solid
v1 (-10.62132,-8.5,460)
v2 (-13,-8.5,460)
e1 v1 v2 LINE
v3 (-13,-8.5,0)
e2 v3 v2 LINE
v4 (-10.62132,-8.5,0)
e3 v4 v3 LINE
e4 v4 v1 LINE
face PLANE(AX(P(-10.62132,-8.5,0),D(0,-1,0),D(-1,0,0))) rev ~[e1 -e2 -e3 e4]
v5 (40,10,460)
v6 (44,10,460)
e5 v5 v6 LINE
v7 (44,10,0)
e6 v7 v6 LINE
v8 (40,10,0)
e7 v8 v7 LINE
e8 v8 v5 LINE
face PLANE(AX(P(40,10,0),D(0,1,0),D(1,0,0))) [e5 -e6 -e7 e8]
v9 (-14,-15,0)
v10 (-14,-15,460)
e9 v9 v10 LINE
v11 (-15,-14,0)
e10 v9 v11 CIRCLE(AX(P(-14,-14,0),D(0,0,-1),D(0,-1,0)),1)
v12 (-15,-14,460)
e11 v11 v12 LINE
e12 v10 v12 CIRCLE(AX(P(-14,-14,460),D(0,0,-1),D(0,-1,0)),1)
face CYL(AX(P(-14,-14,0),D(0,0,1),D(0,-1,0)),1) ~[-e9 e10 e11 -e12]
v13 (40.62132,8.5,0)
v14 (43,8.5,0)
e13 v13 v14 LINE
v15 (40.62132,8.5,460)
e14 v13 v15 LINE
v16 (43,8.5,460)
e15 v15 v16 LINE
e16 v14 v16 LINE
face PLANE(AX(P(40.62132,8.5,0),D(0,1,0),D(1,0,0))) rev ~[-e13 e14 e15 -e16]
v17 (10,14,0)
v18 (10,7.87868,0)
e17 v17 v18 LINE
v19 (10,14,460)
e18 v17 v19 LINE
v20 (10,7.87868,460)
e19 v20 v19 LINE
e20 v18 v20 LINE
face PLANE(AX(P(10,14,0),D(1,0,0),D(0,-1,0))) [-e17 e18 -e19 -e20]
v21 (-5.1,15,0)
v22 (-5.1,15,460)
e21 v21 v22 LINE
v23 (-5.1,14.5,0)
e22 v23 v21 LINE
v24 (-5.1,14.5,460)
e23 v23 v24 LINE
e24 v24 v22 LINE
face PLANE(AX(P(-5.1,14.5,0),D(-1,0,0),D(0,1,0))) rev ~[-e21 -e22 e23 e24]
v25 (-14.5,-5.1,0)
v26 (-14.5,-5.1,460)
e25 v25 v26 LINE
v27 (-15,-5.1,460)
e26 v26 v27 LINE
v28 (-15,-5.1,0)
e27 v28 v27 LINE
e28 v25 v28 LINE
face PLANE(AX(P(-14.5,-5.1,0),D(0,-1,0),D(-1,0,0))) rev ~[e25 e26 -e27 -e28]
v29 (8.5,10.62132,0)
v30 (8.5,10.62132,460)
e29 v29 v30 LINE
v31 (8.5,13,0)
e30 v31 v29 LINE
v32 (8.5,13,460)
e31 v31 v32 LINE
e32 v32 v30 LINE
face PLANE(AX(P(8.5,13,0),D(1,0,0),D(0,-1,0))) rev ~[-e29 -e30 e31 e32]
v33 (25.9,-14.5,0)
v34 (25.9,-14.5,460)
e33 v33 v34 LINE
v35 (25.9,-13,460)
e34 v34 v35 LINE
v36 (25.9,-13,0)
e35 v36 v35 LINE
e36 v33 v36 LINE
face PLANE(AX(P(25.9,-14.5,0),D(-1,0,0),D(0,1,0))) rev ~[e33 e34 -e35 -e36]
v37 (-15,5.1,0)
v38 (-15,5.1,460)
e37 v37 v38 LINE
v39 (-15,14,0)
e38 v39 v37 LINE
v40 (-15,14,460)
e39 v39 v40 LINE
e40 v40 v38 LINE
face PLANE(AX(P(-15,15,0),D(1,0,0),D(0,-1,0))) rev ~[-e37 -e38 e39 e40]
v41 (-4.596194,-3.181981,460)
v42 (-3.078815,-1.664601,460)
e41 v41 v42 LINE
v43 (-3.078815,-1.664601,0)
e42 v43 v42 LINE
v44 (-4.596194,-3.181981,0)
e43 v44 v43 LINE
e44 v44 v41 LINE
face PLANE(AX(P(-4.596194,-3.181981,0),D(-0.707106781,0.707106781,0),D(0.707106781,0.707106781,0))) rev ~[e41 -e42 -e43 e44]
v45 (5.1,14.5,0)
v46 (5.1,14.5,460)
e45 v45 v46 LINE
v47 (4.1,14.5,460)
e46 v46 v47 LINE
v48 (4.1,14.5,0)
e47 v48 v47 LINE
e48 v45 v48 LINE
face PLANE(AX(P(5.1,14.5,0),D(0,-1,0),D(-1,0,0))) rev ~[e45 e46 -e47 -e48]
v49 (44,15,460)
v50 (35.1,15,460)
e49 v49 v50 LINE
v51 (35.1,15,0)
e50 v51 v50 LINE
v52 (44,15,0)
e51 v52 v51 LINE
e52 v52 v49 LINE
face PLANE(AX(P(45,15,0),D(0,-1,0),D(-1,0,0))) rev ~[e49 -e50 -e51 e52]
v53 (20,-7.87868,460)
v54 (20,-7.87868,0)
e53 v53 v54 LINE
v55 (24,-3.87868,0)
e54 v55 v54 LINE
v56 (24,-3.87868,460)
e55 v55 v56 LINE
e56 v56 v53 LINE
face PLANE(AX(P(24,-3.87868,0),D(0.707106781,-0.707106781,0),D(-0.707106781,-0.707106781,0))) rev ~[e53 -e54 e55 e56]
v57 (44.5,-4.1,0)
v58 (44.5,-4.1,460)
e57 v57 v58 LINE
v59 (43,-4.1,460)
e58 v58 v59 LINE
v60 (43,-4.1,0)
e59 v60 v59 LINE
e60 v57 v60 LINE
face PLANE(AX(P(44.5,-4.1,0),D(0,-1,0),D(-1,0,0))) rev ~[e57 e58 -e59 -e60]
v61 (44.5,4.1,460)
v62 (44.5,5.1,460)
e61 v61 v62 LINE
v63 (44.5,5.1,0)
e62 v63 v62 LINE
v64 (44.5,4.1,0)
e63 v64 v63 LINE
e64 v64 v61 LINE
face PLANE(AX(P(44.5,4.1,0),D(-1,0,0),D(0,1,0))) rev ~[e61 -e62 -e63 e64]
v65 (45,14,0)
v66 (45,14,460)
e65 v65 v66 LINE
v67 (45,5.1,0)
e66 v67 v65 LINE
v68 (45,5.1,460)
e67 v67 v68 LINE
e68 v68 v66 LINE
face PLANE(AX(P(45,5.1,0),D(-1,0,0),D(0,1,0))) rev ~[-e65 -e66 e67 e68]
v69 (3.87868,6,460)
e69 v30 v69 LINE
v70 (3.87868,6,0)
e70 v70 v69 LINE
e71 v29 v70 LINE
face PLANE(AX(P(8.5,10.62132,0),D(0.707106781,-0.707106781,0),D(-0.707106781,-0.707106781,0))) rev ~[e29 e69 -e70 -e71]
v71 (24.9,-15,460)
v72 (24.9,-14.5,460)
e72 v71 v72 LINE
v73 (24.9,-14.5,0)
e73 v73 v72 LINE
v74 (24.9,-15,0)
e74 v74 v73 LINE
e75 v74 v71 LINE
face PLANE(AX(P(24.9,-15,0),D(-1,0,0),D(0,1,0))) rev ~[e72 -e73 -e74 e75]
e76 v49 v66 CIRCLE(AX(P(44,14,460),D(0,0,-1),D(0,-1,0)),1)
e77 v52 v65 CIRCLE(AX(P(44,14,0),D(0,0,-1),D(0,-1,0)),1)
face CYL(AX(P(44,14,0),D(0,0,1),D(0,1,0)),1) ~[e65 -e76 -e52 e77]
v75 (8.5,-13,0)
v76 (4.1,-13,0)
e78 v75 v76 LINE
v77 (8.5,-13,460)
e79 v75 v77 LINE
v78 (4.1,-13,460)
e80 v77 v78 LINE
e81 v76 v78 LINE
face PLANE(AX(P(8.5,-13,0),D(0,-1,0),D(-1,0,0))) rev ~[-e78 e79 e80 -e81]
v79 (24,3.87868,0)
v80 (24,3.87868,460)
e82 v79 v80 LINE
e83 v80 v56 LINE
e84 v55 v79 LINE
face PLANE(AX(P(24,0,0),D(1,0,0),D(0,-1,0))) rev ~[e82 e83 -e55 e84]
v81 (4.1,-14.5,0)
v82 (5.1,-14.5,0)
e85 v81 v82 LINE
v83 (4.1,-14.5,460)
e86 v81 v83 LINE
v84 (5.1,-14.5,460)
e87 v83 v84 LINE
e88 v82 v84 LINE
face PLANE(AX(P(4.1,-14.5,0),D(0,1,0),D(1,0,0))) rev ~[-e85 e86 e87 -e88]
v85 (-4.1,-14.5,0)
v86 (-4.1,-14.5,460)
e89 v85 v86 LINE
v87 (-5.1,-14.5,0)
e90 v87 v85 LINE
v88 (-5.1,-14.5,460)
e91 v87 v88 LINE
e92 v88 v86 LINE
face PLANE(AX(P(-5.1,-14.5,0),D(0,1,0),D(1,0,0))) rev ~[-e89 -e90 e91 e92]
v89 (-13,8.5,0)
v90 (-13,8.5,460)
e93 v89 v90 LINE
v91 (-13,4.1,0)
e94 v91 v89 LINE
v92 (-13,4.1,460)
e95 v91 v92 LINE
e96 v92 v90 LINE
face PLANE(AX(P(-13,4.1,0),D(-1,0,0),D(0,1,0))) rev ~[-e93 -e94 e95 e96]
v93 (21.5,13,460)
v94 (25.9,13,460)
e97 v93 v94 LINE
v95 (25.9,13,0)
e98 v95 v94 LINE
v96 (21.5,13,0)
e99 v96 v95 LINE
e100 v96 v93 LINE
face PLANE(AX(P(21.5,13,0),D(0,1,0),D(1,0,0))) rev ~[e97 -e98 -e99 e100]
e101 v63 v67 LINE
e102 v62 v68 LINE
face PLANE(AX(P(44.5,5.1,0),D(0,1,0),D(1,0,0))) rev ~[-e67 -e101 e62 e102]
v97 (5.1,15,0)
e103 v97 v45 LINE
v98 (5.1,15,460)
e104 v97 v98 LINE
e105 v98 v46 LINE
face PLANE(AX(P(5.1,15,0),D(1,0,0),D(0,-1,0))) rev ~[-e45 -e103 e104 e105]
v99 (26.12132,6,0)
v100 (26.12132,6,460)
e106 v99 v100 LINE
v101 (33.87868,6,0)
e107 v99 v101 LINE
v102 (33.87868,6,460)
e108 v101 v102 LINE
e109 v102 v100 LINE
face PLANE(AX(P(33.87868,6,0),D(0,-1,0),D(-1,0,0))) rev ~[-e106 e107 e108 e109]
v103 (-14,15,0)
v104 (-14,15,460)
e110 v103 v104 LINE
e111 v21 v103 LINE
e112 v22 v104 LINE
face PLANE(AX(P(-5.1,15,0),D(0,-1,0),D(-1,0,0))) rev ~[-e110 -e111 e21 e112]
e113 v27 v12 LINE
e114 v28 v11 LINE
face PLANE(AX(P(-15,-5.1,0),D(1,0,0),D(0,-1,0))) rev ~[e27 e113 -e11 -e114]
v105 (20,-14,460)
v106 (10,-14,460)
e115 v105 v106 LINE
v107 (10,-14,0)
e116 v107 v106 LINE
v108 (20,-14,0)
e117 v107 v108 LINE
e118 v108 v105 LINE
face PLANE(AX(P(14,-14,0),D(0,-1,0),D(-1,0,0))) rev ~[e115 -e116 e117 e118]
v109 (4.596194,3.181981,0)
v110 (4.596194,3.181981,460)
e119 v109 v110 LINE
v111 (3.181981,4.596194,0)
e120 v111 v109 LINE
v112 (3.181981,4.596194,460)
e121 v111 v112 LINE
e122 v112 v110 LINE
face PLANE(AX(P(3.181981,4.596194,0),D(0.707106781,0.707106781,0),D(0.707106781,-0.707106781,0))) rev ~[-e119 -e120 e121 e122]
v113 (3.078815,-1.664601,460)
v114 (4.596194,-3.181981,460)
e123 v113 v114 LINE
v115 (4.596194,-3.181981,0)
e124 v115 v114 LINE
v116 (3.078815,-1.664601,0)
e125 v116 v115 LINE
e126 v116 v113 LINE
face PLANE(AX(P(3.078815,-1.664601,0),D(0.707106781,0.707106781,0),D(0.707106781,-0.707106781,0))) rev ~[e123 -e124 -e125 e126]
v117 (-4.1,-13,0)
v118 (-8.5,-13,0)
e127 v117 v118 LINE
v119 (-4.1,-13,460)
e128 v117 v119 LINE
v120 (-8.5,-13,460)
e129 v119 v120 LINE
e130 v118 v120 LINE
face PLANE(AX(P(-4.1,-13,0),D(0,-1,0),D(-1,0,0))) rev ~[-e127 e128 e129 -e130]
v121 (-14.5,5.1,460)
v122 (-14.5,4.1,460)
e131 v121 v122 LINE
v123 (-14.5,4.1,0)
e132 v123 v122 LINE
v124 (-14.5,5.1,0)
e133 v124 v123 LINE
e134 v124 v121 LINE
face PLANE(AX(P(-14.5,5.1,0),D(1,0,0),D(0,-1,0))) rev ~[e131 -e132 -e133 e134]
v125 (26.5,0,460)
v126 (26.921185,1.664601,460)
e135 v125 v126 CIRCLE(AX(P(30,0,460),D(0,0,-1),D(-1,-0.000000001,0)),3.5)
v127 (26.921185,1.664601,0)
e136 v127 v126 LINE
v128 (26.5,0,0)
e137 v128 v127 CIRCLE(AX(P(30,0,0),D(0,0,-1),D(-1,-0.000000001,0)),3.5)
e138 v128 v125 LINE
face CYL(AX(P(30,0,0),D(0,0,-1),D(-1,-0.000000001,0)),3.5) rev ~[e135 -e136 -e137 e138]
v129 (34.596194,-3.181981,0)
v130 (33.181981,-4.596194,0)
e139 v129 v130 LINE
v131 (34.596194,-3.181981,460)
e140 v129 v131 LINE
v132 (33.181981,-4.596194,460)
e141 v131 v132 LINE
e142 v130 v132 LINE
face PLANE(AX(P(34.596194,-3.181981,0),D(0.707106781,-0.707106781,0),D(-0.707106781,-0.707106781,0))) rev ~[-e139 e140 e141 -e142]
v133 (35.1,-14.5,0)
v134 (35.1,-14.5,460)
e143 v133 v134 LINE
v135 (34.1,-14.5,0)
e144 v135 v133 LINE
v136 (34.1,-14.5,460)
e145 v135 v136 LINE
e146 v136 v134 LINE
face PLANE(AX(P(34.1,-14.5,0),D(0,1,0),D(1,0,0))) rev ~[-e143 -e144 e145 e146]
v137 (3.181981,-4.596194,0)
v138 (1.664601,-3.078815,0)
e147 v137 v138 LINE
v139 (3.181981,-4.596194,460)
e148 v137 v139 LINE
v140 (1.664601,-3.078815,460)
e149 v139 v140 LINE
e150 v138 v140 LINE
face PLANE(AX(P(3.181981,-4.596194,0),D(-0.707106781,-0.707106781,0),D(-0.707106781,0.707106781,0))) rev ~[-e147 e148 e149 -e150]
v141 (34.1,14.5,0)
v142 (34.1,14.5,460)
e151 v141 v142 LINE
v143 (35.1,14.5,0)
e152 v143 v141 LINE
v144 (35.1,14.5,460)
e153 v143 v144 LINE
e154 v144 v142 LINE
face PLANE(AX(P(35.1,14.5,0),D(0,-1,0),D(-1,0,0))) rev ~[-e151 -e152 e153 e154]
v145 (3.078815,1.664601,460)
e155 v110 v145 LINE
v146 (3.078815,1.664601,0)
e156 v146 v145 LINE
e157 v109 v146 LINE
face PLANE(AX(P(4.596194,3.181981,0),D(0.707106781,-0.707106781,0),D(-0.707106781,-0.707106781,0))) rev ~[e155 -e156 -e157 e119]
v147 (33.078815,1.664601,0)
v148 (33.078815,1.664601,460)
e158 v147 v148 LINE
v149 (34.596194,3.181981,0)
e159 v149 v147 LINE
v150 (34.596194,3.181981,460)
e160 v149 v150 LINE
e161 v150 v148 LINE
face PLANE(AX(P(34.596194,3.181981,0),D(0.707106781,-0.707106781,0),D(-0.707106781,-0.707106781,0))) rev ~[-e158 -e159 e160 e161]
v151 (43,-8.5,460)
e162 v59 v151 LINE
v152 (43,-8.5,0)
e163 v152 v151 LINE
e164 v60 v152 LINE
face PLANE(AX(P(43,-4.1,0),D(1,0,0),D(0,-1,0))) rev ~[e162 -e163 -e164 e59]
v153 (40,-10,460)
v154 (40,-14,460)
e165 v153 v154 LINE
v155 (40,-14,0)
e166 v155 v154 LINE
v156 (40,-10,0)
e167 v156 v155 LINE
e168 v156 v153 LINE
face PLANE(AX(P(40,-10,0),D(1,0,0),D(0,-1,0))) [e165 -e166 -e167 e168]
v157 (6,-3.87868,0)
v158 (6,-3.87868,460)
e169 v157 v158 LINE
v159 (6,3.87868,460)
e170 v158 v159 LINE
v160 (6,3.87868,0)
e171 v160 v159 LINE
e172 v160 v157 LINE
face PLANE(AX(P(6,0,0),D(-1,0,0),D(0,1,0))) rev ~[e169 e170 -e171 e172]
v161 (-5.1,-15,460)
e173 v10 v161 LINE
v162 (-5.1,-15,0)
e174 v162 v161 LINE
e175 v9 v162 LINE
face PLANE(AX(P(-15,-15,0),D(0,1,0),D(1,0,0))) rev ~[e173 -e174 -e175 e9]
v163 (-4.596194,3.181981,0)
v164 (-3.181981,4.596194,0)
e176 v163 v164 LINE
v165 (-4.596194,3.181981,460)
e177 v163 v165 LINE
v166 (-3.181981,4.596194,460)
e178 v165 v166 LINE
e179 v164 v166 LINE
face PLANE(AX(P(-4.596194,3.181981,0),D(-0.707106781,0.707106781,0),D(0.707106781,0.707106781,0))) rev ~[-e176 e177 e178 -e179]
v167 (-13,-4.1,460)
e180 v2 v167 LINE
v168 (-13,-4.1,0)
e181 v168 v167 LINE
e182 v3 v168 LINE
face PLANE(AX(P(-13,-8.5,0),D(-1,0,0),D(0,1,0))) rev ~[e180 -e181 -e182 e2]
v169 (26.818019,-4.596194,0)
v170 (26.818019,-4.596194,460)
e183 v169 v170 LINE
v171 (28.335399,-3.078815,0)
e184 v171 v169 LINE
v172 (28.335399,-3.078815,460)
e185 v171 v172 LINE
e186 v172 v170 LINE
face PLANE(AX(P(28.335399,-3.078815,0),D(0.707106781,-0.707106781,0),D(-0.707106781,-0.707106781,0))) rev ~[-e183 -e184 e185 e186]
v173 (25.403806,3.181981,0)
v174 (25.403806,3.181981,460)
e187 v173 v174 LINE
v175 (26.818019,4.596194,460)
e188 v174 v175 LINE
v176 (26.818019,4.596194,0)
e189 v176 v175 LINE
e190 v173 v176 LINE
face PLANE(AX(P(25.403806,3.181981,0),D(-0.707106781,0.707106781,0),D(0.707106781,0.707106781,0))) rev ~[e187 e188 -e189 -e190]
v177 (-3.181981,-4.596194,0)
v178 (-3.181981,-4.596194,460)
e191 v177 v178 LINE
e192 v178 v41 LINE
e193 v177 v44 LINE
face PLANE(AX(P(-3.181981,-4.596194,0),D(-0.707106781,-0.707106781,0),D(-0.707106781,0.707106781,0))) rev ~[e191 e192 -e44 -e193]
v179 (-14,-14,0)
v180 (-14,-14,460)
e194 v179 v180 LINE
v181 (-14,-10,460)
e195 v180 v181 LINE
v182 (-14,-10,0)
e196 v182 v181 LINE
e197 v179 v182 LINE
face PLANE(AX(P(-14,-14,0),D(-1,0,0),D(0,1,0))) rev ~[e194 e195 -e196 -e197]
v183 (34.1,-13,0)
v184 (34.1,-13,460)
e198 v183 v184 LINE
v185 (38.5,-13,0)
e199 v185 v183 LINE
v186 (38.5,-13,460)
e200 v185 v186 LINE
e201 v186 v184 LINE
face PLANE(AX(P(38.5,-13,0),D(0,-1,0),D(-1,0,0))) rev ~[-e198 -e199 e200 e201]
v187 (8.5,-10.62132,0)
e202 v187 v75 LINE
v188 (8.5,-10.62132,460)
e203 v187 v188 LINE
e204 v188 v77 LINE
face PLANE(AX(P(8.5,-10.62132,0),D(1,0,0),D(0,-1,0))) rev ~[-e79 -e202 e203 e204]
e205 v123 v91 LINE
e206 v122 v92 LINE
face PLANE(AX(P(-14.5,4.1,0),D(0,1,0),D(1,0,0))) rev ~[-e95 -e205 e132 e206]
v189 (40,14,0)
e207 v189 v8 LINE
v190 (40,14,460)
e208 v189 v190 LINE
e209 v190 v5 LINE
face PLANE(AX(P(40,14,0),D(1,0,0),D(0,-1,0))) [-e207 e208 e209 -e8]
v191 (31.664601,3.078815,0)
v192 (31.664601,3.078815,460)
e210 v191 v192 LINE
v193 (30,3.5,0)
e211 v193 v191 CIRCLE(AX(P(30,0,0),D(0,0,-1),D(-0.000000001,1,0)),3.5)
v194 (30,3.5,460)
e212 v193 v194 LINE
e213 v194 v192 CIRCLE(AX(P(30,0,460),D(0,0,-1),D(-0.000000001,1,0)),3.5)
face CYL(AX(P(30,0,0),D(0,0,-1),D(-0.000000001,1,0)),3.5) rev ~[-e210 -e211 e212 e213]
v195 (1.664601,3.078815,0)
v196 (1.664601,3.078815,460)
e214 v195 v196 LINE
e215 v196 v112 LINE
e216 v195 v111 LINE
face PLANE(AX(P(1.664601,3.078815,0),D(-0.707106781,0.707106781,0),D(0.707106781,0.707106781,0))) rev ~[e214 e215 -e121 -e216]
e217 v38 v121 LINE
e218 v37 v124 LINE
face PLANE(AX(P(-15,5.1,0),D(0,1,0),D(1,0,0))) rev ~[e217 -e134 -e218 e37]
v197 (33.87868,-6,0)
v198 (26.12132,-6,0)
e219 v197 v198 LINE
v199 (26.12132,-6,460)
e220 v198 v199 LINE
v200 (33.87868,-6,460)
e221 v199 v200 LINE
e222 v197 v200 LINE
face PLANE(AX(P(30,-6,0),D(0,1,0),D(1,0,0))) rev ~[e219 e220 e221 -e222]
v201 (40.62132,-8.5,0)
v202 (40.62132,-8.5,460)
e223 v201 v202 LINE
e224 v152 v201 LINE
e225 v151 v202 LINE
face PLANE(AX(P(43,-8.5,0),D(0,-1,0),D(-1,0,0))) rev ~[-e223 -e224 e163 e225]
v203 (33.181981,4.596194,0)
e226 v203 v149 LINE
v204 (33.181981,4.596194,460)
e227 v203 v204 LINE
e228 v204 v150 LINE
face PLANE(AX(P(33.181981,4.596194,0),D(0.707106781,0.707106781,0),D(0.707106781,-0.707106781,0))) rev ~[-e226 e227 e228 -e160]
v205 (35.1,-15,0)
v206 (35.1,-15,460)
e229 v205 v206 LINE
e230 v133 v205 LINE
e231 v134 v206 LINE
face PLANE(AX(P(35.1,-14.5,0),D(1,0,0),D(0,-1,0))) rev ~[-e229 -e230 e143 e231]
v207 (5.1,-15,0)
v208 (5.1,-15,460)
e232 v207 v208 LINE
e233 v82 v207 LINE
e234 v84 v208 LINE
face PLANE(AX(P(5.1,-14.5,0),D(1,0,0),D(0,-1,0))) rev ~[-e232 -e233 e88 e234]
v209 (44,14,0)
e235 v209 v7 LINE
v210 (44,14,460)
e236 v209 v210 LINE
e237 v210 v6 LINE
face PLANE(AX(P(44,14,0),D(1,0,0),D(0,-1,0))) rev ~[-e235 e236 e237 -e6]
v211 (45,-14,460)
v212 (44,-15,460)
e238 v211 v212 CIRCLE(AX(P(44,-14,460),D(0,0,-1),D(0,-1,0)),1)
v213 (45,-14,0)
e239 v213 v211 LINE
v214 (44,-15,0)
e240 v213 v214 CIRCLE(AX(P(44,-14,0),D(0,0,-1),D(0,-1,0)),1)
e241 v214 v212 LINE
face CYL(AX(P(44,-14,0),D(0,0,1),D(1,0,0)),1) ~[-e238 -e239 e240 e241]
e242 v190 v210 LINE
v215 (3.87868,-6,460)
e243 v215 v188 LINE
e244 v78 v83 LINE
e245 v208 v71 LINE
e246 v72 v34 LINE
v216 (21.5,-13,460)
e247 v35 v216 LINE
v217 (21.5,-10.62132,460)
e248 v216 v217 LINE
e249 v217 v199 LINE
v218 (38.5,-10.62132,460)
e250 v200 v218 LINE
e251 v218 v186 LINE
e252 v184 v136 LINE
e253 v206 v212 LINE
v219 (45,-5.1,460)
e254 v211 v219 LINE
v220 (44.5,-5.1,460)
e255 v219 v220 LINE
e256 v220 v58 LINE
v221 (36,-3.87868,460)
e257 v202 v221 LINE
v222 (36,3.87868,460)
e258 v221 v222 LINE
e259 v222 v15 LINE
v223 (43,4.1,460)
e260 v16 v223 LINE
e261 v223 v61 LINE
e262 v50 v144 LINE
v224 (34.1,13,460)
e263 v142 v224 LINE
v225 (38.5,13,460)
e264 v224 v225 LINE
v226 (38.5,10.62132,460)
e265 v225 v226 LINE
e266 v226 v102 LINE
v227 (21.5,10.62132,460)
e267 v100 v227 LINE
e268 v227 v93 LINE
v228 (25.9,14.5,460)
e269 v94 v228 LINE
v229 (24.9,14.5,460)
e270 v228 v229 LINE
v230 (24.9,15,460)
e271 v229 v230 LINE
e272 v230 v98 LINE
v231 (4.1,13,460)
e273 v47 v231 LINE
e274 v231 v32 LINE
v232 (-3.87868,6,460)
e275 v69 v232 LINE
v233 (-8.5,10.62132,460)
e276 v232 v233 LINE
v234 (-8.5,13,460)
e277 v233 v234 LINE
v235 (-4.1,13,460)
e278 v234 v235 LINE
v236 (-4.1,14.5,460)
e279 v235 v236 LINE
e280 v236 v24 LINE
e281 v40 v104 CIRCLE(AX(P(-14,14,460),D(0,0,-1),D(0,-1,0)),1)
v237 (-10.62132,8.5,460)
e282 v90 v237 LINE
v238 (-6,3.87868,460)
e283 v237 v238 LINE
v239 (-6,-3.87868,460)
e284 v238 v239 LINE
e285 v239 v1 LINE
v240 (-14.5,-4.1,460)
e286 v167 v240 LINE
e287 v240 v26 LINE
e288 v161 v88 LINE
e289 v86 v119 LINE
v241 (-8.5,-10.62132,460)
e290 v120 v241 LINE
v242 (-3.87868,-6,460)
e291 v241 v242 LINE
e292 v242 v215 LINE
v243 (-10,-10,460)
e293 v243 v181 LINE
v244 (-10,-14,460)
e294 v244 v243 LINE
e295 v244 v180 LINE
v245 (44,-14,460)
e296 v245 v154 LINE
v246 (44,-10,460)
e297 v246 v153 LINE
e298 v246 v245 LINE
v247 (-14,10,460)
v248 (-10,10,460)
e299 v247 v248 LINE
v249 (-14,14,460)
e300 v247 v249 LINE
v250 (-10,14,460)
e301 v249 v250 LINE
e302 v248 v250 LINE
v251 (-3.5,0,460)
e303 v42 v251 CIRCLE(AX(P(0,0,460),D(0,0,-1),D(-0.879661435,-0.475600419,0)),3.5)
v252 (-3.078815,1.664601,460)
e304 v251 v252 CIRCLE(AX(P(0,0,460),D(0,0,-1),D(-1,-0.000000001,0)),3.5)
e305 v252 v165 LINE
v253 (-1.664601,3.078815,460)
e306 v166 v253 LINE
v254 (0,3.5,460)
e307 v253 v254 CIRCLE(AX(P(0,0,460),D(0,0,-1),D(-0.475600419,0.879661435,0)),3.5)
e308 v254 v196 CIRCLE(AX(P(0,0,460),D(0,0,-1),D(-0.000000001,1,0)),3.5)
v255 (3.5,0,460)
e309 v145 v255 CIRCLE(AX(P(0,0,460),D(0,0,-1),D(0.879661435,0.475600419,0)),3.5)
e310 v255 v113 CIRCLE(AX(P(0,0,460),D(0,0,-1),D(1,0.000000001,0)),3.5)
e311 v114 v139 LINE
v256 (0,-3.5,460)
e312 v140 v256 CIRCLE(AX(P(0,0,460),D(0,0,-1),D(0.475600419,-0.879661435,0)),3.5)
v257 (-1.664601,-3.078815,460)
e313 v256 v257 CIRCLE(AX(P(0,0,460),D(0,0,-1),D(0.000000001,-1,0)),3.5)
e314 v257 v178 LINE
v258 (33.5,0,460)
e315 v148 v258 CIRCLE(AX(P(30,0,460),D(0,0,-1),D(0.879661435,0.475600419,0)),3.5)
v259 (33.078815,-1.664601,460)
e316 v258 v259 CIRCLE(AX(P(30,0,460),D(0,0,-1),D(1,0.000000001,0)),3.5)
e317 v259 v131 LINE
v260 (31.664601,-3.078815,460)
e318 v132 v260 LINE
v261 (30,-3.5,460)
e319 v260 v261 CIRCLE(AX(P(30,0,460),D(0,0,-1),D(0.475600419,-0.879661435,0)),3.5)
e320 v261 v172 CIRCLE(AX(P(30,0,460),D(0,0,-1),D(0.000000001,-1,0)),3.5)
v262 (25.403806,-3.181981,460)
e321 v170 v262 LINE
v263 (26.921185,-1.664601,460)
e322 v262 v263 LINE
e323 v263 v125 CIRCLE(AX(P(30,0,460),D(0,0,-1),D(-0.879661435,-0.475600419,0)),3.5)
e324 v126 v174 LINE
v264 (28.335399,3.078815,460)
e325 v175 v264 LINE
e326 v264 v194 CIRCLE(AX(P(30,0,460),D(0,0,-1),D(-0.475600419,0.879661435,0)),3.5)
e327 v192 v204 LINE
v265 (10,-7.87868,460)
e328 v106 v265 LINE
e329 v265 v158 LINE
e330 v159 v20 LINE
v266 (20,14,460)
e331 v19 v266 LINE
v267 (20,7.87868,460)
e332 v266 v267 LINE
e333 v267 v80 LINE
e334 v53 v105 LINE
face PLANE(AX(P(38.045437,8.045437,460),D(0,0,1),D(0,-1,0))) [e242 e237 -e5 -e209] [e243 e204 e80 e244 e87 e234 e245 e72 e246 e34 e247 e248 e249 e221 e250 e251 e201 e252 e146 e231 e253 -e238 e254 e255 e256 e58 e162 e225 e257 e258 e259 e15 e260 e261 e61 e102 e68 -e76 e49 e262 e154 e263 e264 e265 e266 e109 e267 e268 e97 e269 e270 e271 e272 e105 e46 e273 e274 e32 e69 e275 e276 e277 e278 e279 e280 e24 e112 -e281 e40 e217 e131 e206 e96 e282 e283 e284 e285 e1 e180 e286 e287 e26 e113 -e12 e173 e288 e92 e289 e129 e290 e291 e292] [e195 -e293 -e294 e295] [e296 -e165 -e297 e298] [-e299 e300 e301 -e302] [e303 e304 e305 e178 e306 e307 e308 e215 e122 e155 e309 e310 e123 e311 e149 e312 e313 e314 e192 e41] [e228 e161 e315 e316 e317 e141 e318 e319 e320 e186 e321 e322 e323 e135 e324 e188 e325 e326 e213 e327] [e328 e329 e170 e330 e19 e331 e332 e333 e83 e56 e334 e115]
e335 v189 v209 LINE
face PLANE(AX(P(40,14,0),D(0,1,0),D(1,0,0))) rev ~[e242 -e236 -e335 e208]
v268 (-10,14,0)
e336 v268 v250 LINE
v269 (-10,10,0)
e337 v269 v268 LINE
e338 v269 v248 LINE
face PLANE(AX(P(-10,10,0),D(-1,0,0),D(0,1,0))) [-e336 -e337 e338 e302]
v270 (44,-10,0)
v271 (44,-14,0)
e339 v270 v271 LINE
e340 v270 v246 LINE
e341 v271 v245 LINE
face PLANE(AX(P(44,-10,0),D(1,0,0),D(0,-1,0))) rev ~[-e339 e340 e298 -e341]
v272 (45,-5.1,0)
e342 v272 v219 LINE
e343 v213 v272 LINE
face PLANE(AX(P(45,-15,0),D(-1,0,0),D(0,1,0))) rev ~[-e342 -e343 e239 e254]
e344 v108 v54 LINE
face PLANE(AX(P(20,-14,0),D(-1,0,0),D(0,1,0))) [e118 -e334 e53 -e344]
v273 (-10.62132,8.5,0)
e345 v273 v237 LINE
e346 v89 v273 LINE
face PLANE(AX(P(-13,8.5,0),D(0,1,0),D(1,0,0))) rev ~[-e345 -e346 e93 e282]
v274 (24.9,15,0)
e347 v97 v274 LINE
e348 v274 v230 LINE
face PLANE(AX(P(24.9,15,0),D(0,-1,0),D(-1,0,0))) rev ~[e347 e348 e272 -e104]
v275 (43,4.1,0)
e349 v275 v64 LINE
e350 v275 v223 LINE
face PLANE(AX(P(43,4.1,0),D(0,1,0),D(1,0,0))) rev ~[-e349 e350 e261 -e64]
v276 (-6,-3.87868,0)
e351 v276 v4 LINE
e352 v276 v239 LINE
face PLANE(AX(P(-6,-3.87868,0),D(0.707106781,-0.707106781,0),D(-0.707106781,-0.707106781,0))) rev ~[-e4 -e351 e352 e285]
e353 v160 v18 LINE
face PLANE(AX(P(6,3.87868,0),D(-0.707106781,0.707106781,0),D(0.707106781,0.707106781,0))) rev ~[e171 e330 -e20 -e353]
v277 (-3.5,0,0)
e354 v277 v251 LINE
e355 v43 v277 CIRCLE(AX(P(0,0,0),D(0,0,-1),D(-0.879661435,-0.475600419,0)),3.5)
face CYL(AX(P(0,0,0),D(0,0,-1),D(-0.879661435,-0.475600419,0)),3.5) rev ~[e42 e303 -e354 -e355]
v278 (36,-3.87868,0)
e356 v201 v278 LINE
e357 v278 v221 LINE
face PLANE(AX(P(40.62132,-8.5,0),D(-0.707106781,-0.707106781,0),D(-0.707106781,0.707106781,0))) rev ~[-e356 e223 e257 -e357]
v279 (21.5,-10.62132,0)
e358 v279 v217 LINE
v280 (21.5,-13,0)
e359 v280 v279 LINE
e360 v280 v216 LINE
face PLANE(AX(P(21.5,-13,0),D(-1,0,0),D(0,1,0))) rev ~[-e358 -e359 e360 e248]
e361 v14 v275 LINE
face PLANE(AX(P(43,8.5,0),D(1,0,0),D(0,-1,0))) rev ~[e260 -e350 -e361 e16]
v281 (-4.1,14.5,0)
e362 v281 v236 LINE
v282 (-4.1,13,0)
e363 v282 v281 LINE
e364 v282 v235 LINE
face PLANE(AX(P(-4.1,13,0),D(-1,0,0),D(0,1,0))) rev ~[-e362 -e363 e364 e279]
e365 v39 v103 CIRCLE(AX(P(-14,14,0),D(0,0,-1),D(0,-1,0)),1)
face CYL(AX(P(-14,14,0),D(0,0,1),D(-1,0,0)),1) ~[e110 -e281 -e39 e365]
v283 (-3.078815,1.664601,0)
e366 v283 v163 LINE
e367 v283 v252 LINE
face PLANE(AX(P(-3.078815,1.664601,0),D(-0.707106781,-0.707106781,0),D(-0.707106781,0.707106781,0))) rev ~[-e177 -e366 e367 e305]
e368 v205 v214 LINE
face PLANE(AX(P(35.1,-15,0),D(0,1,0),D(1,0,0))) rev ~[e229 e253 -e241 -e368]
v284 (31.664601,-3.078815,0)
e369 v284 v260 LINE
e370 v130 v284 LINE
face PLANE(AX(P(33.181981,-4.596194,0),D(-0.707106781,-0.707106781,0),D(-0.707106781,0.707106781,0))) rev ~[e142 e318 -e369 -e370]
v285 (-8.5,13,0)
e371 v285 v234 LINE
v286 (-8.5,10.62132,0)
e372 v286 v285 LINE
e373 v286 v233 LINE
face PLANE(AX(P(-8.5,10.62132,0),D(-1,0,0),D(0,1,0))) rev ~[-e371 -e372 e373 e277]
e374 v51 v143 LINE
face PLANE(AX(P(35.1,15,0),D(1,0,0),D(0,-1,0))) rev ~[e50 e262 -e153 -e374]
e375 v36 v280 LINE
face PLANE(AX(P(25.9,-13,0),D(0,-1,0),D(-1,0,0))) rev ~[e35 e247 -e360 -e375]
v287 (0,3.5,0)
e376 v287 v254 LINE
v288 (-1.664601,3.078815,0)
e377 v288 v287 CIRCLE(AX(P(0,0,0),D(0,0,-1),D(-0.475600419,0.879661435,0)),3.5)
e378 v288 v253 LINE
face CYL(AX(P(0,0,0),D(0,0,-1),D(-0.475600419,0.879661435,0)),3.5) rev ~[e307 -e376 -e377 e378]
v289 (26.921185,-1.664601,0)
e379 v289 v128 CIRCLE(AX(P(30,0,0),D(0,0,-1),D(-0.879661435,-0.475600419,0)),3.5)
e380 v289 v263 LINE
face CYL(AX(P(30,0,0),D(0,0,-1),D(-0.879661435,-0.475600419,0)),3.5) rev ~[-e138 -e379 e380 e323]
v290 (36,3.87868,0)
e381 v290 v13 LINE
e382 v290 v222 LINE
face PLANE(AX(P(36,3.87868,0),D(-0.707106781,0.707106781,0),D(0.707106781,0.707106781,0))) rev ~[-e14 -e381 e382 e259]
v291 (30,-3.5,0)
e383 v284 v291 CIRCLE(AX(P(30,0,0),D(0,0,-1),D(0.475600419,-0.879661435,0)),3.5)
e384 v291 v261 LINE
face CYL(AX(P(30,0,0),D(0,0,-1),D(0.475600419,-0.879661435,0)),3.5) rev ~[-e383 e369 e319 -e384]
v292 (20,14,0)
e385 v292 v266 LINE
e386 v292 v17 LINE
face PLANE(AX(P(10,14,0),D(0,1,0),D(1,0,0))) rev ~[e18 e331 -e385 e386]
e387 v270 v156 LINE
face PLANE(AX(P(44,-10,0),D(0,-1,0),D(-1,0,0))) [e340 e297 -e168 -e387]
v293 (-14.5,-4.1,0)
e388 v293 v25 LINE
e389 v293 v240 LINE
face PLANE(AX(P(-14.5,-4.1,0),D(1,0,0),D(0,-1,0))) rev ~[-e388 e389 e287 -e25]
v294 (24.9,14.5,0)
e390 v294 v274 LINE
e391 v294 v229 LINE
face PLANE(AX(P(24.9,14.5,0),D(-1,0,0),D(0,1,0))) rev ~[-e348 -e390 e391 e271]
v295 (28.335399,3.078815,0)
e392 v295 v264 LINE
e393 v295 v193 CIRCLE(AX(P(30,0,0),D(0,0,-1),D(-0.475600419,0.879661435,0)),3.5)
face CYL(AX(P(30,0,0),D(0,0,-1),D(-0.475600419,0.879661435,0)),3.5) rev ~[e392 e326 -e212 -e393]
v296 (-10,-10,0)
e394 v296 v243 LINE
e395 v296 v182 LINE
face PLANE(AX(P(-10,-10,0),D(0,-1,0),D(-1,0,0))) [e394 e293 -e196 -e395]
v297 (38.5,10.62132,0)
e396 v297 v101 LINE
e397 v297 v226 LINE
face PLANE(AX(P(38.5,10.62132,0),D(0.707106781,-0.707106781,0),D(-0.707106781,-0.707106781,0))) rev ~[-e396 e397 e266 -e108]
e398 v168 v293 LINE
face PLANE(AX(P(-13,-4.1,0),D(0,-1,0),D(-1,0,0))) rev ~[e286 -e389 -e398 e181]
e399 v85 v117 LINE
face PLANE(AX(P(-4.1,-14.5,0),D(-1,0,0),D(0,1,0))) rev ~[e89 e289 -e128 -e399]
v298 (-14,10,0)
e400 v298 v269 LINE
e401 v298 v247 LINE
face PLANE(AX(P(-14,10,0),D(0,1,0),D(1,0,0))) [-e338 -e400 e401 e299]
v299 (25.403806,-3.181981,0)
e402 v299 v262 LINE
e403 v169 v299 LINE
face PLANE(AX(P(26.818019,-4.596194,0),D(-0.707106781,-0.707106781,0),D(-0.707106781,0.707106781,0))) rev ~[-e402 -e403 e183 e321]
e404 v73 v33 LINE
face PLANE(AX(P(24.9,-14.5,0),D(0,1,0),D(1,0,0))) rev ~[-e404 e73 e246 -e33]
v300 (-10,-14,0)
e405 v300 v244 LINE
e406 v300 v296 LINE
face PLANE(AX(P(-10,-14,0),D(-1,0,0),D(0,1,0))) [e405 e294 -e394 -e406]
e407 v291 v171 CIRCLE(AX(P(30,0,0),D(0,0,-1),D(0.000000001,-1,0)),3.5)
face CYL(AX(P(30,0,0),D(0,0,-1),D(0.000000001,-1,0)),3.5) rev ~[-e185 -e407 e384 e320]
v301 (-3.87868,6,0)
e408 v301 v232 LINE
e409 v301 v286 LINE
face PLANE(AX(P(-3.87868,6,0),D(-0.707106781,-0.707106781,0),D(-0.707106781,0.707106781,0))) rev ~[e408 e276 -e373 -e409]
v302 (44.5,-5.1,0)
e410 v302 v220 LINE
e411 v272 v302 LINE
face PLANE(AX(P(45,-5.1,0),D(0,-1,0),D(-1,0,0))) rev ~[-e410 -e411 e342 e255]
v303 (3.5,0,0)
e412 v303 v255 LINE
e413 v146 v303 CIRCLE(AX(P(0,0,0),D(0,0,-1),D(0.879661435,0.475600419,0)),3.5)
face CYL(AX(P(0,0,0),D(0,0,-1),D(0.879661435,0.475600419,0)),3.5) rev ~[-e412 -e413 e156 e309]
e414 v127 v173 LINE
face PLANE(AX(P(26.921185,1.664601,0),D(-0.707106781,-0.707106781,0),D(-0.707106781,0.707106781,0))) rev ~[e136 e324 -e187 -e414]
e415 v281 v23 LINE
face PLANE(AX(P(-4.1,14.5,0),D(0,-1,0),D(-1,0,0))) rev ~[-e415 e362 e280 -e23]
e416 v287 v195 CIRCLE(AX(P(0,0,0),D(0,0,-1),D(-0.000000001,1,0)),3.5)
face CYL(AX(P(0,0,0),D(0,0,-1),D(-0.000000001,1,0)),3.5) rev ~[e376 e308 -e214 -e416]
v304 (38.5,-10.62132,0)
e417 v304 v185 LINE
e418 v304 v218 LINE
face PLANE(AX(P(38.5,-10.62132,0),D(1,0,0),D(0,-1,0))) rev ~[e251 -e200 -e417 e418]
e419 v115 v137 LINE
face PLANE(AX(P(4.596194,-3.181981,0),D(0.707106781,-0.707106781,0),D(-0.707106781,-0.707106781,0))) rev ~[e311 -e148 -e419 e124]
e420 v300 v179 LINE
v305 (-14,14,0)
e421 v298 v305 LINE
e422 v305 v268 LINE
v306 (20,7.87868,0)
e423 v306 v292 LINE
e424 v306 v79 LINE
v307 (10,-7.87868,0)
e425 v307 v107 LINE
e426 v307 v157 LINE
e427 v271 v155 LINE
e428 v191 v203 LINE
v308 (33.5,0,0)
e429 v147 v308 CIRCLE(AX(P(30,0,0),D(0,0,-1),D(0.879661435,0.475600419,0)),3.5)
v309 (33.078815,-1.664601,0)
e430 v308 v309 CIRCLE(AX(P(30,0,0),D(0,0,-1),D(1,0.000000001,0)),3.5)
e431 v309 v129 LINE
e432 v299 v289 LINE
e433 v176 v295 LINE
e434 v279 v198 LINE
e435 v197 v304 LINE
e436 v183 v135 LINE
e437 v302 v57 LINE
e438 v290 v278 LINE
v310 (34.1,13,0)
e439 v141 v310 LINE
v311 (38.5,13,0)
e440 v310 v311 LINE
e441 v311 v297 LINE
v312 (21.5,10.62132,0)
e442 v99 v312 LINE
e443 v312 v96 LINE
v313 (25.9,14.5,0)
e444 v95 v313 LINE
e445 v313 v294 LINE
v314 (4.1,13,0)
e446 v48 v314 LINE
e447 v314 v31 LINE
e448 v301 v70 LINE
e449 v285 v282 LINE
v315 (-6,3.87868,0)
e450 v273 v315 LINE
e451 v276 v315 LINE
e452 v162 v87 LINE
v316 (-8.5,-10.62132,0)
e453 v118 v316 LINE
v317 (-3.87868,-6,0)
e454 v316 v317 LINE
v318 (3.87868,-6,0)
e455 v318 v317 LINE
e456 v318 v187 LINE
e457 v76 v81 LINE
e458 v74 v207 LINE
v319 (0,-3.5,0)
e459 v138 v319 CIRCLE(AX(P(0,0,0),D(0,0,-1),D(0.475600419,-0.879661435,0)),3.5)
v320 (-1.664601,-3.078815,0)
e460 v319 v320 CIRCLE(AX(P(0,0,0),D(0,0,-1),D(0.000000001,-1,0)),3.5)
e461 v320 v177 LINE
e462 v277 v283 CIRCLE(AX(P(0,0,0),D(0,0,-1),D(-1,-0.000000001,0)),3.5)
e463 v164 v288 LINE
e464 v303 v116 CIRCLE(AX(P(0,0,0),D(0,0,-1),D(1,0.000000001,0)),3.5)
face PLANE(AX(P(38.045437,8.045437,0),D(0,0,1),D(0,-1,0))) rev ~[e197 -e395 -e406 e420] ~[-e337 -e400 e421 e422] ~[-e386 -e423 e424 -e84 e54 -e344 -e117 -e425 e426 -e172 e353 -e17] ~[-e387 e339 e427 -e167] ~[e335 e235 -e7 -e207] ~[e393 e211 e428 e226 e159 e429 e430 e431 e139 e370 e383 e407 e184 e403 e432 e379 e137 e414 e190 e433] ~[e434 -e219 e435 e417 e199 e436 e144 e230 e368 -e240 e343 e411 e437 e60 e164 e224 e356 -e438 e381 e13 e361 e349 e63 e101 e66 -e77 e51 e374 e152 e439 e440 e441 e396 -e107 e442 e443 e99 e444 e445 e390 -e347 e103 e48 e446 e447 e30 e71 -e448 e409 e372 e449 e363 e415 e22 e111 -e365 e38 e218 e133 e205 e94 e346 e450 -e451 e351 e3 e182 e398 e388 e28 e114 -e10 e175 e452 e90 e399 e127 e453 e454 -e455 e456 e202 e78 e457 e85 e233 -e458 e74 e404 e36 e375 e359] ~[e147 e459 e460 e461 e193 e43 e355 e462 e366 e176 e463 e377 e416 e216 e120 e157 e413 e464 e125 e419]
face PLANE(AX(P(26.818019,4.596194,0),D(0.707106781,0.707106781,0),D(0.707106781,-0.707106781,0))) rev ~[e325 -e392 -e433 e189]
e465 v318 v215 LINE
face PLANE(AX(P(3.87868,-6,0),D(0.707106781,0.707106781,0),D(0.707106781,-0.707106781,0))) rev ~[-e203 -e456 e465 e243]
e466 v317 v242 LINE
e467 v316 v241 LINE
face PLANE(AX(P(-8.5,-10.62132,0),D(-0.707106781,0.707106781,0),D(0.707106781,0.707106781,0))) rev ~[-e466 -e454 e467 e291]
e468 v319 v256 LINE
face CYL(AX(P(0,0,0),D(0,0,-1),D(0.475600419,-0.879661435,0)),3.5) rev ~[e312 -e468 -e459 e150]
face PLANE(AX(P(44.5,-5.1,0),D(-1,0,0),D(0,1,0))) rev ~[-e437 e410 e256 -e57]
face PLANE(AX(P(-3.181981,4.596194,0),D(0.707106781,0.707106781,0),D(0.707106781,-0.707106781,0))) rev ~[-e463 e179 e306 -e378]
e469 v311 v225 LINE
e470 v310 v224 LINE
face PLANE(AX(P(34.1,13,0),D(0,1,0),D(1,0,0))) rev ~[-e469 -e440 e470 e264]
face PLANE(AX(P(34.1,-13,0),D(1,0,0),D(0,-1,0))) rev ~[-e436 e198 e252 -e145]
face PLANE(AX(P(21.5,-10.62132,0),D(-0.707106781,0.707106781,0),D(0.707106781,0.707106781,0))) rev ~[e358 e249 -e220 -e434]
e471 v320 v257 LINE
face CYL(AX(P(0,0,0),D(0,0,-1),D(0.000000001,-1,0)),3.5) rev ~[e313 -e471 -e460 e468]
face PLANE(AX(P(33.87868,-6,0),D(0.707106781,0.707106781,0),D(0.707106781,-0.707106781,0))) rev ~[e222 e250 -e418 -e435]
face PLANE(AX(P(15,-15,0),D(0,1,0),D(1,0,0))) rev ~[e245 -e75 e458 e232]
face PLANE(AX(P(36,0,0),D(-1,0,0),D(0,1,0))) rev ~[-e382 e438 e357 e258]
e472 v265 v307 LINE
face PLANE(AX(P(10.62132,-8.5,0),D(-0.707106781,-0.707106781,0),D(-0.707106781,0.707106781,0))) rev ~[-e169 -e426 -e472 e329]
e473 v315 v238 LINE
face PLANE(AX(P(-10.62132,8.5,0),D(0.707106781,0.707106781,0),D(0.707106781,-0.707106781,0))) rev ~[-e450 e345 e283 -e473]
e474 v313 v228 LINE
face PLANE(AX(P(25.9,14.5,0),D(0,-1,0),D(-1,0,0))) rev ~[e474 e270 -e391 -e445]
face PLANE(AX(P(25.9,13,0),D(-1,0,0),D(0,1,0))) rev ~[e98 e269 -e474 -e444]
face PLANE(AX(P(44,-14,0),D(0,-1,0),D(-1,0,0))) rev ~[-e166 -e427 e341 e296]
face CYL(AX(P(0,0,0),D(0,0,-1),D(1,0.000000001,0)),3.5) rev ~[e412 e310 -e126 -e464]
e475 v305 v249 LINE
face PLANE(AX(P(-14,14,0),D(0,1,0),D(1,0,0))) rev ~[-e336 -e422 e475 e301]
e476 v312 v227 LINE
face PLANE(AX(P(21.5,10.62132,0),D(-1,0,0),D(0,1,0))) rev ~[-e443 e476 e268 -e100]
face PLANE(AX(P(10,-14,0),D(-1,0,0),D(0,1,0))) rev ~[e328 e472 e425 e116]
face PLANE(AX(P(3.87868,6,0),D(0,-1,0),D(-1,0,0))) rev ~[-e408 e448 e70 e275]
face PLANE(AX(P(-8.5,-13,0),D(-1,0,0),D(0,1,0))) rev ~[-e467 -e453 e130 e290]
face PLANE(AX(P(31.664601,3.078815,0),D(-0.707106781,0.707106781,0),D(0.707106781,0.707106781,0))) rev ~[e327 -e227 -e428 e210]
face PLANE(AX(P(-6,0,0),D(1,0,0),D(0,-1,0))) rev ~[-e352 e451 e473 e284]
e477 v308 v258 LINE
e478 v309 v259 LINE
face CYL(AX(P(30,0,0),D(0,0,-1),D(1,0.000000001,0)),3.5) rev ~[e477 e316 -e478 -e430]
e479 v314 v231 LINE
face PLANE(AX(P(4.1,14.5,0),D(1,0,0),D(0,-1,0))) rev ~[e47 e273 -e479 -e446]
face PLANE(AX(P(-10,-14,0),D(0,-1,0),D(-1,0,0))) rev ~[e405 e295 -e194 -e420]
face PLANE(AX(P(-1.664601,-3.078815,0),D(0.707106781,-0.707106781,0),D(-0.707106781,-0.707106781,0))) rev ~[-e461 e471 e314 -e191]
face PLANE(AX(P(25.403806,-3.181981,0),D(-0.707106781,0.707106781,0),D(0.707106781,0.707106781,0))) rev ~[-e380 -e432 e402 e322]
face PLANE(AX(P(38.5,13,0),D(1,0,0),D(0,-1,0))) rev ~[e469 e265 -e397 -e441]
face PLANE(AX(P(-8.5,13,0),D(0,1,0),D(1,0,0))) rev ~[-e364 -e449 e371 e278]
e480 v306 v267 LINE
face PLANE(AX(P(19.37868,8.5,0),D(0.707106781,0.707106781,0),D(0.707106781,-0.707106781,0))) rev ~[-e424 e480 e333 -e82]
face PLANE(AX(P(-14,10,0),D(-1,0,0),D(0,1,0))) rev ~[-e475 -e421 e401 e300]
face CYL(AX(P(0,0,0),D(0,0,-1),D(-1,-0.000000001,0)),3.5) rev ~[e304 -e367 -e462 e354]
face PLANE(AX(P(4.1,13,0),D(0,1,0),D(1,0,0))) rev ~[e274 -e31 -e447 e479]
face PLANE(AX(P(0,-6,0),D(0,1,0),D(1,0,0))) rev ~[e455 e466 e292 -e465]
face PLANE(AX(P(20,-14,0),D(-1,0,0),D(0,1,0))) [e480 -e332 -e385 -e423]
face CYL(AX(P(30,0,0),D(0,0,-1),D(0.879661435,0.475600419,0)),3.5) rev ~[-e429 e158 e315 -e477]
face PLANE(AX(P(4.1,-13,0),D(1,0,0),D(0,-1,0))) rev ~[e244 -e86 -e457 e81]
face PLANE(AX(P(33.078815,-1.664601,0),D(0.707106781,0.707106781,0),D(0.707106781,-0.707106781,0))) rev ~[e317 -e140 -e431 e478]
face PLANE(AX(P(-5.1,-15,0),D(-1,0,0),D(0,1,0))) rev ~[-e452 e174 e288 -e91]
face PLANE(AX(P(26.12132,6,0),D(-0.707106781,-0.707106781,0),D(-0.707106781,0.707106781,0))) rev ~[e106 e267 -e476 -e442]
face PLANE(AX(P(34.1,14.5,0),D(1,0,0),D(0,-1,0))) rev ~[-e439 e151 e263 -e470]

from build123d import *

# Parameters (mm, degrees)
ESBO_O1_W                      = 4
ESBO_O1_H                      = 4
RESSALTO_EXTRUS_O1_DEPTH       = 460
PADR_OCIRCULAR1_COUNT          = 4
PADR_O_LINEAR1_COUNT           = 2
PADR_O_LINEAR1_PITCH           = 30
PADR_O_LINEAR1_COPY_1_SKETCH_W = 4
PADR_O_LINEAR1_COPY_1_SKETCH_H = 4
PADR_O_LINEAR1_COPY_1_DEPTH    = 460
PADR_O_LINEAR1_COPY_2_SKETCH_W = 4
PADR_O_LINEAR1_COPY_2_SKETCH_H = 4
PADR_O_LINEAR1_COPY_2_DEPTH    = 460
PADR_O_LINEAR1_COPY_3_SKETCH_W = 4
PADR_O_LINEAR1_COPY_3_SKETCH_H = 4
PADR_O_LINEAR1_COPY_3_DEPTH    = 460
ESBO_O4_W                      = 10
ESBO_O4_H                      = 28
CORTE_EXTRUS_O1_DEPTH          = 463.439185191
FILETE1_R                      = 1


with BuildPart() as part:
    # Esboço1 → Ressalto-extrusão1 (new body)
    with BuildSketch(Plane.XY):
        with BuildLine():
            ThreePointArc((-1.664601464, 3.078815026), (-0.858529967, 3.393070335), (0, 3.5))
            Line((0, 3.5), (0, 6))
            Line((0, 6), (-3.878679656, 6))
            Line((-3.878679656, 6), (-8.5, 10.621320344))
            Line((-8.5, 10.621320344), (-8.5, 13))
            Line((-8.5, 13), (-4.1, 13))
            Line((-4.1, 13), (-4.1, 14.5))
            Line((-4.1, 14.5), (-5.1, 14.5))
            Line((-5.1, 14.5), (-5.1, 15))
            Line((-5.1, 15), (-15, 15))
            Line((-15, 15), (-15, 5.1))
            Line((-15, 5.1), (-14.5, 5.1))
            Line((-14.5, 5.1), (-14.5, 4.1))
            Line((-14.5, 4.1), (-13, 4.1))
            Line((-13, 4.1), (-13, 8.5))
            Line((-13, 8.5), (-10.621320344, 8.5))
            Line((-10.621320344, 8.5), (-6, 3.878679656))
            Line((-6, 3.878679656), (-6, 0))
            Line((-6, 0), (-3.5, 0))
            ThreePointArc((-3.5, 0), (-3.393070335, 0.858529967), (-3.078815026, 1.664601464))
            Line((-3.078815026, 1.664601464), (-4.596194078, 3.181980515))
            Line((-4.596194078, 3.181980515), (-3.181980515, 4.596194078))
            Line((-3.181980515, 4.596194078), (-1.664601464, 3.078815026))
        make_face()
        with Locations((-12, 12)):
            Rectangle(ESBO_O1_W, ESBO_O1_H, mode=Mode.SUBTRACT)
    ressalto_extrus_o1 = extrude(amount=RESSALTO_EXTRUS_O1_DEPTH)

    # PadrãoCircular1: Ressalto-extrusão1 ×4 about axis
    padr_ocircular1_axis = Axis((0, 0, 0), (0, 0, 1))
    for i in range(1, PADR_OCIRCULAR1_COUNT):
        add(ressalto_extrus_o1.rotate(padr_ocircular1_axis, i * 360 / PADR_OCIRCULAR1_COUNT))

    # Padrão linear1: Ressalto-extrusão1 ×2
    with Locations(*[(i * PADR_O_LINEAR1_PITCH, 0, 0) for i in range(1, PADR_O_LINEAR1_COUNT)]):
        add(ressalto_extrus_o1)

    # Padrão linear1 copy 1 sketch → Padrão linear1 copy 1 (add)
    with BuildSketch(Plane(origin=(30, 0, 0), x_dir=(0, 1, 0), z_dir=(0, 0, 1))):
        with BuildLine():
            ThreePointArc((-1.664601464, 3.078815026), (-0.858529967, 3.393070335), (0, 3.5))
            Line((0, 3.5), (0, 6))
            Line((0, 6), (-3.878679656, 6))
            Line((-3.878679656, 6), (-8.5, 10.621320344))
            Line((-8.5, 10.621320344), (-8.5, 13))
            Line((-8.5, 13), (-4.1, 13))
            Line((-4.1, 13), (-4.1, 14.5))
            Line((-4.1, 14.5), (-5.1, 14.5))
            Line((-5.1, 14.5), (-5.1, 15))
            Line((-5.1, 15), (-15, 15))
            Line((-15, 15), (-15, 5.1))
            Line((-15, 5.1), (-14.5, 5.1))
            Line((-14.5, 5.1), (-14.5, 4.1))
            Line((-14.5, 4.1), (-13, 4.1))
            Line((-13, 4.1), (-13, 8.5))
            Line((-13, 8.5), (-10.621320344, 8.5))
            Line((-10.621320344, 8.5), (-6, 3.878679656))
            Line((-6, 3.878679656), (-6, 0))
            Line((-6, 0), (-3.5, 0))
            ThreePointArc((-3.5, 0), (-3.393070335, 0.858529967), (-3.078815026, 1.664601464))
            Line((-3.078815026, 1.664601464), (-4.596194078, 3.181980515))
            Line((-4.596194078, 3.181980515), (-3.181980515, 4.596194078))
            Line((-3.181980515, 4.596194078), (-1.664601464, 3.078815026))
        make_face()
        with Locations((-12, 12)):
            Rectangle(PADR_O_LINEAR1_COPY_1_SKETCH_W, PADR_O_LINEAR1_COPY_1_SKETCH_H, mode=Mode.SUBTRACT)
    extrude(amount=PADR_O_LINEAR1_COPY_1_DEPTH)

    # Padrão linear1 copy 2 sketch → Padrão linear1 copy 2 (add)
    with BuildSketch(Plane(origin=(30, 0, 0), x_dir=(-1, 0, 0), z_dir=(0, 0, 1))):
        with BuildLine():
            ThreePointArc((-1.664601464, 3.078815026), (-0.858529967, 3.393070335), (0, 3.5))
            Line((0, 3.5), (0, 6))
            Line((0, 6), (-3.878679656, 6))
            Line((-3.878679656, 6), (-8.5, 10.621320344))
            Line((-8.5, 10.621320344), (-8.5, 13))
            Line((-8.5, 13), (-4.1, 13))
            Line((-4.1, 13), (-4.1, 14.5))
            Line((-4.1, 14.5), (-5.1, 14.5))
            Line((-5.1, 14.5), (-5.1, 15))
            Line((-5.1, 15), (-15, 15))
            Line((-15, 15), (-15, 5.1))
            Line((-15, 5.1), (-14.5, 5.1))
            Line((-14.5, 5.1), (-14.5, 4.1))
            Line((-14.5, 4.1), (-13, 4.1))
            Line((-13, 4.1), (-13, 8.5))
            Line((-13, 8.5), (-10.621320344, 8.5))
            Line((-10.621320344, 8.5), (-6, 3.878679656))
            Line((-6, 3.878679656), (-6, 0))
            Line((-6, 0), (-3.5, 0))
            ThreePointArc((-3.5, 0), (-3.393070335, 0.858529967), (-3.078815026, 1.664601464))
            Line((-3.078815026, 1.664601464), (-4.596194078, 3.181980515))
            Line((-4.596194078, 3.181980515), (-3.181980515, 4.596194078))
            Line((-3.181980515, 4.596194078), (-1.664601464, 3.078815026))
        make_face()
        with Locations((-12, 12)):
            Rectangle(PADR_O_LINEAR1_COPY_2_SKETCH_W, PADR_O_LINEAR1_COPY_2_SKETCH_H, mode=Mode.SUBTRACT)
    extrude(amount=PADR_O_LINEAR1_COPY_2_DEPTH)

    # Padrão linear1 copy 3 sketch → Padrão linear1 copy 3 (add)
    with BuildSketch(Plane(origin=(30, 0, 0), x_dir=(0, -1, 0), z_dir=(0, 0, 1))):
        with BuildLine():
            ThreePointArc((-1.664601464, 3.078815026), (-0.858529967, 3.393070335), (0, 3.5))
            Line((0, 3.5), (0, 6))
            Line((0, 6), (-3.878679656, 6))
            Line((-3.878679656, 6), (-8.5, 10.621320344))
            Line((-8.5, 10.621320344), (-8.5, 13))
            Line((-8.5, 13), (-4.1, 13))
            Line((-4.1, 13), (-4.1, 14.5))
            Line((-4.1, 14.5), (-5.1, 14.5))
            Line((-5.1, 14.5), (-5.1, 15))
            Line((-5.1, 15), (-15, 15))
            Line((-15, 15), (-15, 5.1))
            Line((-15, 5.1), (-14.5, 5.1))
            Line((-14.5, 5.1), (-14.5, 4.1))
            Line((-14.5, 4.1), (-13, 4.1))
            Line((-13, 4.1), (-13, 8.5))
            Line((-13, 8.5), (-10.621320344, 8.5))
            Line((-10.621320344, 8.5), (-6, 3.878679656))
            Line((-6, 3.878679656), (-6, 0))
            Line((-6, 0), (-3.5, 0))
            ThreePointArc((-3.5, 0), (-3.393070335, 0.858529967), (-3.078815026, 1.664601464))
            Line((-3.078815026, 1.664601464), (-4.596194078, 3.181980515))
            Line((-4.596194078, 3.181980515), (-3.181980515, 4.596194078))
            Line((-3.181980515, 4.596194078), (-1.664601464, 3.078815026))
        make_face()
        with Locations((-12, 12)):
            Rectangle(PADR_O_LINEAR1_COPY_3_SKETCH_W, PADR_O_LINEAR1_COPY_3_SKETCH_H, mode=Mode.SUBTRACT)
    extrude(amount=PADR_O_LINEAR1_COPY_3_DEPTH)

    # Esboço4 → Corte-extrusão1 (cut, through all)
    with BuildSketch(Plane(origin=(0, 0, 0), x_dir=(-1, 0, 0), z_dir=(0, 0, -1))):
        with Locations((-15, 0)):
            Rectangle(ESBO_O4_W, ESBO_O4_H)
    extrude(amount=-CORTE_EXTRUS_O1_DEPTH, mode=Mode.SUBTRACT)

    # Filete1
    filete1_edges = [part.edges().sort_by_distance(p)[0] for p in [
        (45, -15, 230),
        (45, 15, 230),
        (-15, 15, 230),
        (-15, -15, 230),
    ]]
    fillet(filete1_edges, radius=FILETE1_R)


solid = part.part
